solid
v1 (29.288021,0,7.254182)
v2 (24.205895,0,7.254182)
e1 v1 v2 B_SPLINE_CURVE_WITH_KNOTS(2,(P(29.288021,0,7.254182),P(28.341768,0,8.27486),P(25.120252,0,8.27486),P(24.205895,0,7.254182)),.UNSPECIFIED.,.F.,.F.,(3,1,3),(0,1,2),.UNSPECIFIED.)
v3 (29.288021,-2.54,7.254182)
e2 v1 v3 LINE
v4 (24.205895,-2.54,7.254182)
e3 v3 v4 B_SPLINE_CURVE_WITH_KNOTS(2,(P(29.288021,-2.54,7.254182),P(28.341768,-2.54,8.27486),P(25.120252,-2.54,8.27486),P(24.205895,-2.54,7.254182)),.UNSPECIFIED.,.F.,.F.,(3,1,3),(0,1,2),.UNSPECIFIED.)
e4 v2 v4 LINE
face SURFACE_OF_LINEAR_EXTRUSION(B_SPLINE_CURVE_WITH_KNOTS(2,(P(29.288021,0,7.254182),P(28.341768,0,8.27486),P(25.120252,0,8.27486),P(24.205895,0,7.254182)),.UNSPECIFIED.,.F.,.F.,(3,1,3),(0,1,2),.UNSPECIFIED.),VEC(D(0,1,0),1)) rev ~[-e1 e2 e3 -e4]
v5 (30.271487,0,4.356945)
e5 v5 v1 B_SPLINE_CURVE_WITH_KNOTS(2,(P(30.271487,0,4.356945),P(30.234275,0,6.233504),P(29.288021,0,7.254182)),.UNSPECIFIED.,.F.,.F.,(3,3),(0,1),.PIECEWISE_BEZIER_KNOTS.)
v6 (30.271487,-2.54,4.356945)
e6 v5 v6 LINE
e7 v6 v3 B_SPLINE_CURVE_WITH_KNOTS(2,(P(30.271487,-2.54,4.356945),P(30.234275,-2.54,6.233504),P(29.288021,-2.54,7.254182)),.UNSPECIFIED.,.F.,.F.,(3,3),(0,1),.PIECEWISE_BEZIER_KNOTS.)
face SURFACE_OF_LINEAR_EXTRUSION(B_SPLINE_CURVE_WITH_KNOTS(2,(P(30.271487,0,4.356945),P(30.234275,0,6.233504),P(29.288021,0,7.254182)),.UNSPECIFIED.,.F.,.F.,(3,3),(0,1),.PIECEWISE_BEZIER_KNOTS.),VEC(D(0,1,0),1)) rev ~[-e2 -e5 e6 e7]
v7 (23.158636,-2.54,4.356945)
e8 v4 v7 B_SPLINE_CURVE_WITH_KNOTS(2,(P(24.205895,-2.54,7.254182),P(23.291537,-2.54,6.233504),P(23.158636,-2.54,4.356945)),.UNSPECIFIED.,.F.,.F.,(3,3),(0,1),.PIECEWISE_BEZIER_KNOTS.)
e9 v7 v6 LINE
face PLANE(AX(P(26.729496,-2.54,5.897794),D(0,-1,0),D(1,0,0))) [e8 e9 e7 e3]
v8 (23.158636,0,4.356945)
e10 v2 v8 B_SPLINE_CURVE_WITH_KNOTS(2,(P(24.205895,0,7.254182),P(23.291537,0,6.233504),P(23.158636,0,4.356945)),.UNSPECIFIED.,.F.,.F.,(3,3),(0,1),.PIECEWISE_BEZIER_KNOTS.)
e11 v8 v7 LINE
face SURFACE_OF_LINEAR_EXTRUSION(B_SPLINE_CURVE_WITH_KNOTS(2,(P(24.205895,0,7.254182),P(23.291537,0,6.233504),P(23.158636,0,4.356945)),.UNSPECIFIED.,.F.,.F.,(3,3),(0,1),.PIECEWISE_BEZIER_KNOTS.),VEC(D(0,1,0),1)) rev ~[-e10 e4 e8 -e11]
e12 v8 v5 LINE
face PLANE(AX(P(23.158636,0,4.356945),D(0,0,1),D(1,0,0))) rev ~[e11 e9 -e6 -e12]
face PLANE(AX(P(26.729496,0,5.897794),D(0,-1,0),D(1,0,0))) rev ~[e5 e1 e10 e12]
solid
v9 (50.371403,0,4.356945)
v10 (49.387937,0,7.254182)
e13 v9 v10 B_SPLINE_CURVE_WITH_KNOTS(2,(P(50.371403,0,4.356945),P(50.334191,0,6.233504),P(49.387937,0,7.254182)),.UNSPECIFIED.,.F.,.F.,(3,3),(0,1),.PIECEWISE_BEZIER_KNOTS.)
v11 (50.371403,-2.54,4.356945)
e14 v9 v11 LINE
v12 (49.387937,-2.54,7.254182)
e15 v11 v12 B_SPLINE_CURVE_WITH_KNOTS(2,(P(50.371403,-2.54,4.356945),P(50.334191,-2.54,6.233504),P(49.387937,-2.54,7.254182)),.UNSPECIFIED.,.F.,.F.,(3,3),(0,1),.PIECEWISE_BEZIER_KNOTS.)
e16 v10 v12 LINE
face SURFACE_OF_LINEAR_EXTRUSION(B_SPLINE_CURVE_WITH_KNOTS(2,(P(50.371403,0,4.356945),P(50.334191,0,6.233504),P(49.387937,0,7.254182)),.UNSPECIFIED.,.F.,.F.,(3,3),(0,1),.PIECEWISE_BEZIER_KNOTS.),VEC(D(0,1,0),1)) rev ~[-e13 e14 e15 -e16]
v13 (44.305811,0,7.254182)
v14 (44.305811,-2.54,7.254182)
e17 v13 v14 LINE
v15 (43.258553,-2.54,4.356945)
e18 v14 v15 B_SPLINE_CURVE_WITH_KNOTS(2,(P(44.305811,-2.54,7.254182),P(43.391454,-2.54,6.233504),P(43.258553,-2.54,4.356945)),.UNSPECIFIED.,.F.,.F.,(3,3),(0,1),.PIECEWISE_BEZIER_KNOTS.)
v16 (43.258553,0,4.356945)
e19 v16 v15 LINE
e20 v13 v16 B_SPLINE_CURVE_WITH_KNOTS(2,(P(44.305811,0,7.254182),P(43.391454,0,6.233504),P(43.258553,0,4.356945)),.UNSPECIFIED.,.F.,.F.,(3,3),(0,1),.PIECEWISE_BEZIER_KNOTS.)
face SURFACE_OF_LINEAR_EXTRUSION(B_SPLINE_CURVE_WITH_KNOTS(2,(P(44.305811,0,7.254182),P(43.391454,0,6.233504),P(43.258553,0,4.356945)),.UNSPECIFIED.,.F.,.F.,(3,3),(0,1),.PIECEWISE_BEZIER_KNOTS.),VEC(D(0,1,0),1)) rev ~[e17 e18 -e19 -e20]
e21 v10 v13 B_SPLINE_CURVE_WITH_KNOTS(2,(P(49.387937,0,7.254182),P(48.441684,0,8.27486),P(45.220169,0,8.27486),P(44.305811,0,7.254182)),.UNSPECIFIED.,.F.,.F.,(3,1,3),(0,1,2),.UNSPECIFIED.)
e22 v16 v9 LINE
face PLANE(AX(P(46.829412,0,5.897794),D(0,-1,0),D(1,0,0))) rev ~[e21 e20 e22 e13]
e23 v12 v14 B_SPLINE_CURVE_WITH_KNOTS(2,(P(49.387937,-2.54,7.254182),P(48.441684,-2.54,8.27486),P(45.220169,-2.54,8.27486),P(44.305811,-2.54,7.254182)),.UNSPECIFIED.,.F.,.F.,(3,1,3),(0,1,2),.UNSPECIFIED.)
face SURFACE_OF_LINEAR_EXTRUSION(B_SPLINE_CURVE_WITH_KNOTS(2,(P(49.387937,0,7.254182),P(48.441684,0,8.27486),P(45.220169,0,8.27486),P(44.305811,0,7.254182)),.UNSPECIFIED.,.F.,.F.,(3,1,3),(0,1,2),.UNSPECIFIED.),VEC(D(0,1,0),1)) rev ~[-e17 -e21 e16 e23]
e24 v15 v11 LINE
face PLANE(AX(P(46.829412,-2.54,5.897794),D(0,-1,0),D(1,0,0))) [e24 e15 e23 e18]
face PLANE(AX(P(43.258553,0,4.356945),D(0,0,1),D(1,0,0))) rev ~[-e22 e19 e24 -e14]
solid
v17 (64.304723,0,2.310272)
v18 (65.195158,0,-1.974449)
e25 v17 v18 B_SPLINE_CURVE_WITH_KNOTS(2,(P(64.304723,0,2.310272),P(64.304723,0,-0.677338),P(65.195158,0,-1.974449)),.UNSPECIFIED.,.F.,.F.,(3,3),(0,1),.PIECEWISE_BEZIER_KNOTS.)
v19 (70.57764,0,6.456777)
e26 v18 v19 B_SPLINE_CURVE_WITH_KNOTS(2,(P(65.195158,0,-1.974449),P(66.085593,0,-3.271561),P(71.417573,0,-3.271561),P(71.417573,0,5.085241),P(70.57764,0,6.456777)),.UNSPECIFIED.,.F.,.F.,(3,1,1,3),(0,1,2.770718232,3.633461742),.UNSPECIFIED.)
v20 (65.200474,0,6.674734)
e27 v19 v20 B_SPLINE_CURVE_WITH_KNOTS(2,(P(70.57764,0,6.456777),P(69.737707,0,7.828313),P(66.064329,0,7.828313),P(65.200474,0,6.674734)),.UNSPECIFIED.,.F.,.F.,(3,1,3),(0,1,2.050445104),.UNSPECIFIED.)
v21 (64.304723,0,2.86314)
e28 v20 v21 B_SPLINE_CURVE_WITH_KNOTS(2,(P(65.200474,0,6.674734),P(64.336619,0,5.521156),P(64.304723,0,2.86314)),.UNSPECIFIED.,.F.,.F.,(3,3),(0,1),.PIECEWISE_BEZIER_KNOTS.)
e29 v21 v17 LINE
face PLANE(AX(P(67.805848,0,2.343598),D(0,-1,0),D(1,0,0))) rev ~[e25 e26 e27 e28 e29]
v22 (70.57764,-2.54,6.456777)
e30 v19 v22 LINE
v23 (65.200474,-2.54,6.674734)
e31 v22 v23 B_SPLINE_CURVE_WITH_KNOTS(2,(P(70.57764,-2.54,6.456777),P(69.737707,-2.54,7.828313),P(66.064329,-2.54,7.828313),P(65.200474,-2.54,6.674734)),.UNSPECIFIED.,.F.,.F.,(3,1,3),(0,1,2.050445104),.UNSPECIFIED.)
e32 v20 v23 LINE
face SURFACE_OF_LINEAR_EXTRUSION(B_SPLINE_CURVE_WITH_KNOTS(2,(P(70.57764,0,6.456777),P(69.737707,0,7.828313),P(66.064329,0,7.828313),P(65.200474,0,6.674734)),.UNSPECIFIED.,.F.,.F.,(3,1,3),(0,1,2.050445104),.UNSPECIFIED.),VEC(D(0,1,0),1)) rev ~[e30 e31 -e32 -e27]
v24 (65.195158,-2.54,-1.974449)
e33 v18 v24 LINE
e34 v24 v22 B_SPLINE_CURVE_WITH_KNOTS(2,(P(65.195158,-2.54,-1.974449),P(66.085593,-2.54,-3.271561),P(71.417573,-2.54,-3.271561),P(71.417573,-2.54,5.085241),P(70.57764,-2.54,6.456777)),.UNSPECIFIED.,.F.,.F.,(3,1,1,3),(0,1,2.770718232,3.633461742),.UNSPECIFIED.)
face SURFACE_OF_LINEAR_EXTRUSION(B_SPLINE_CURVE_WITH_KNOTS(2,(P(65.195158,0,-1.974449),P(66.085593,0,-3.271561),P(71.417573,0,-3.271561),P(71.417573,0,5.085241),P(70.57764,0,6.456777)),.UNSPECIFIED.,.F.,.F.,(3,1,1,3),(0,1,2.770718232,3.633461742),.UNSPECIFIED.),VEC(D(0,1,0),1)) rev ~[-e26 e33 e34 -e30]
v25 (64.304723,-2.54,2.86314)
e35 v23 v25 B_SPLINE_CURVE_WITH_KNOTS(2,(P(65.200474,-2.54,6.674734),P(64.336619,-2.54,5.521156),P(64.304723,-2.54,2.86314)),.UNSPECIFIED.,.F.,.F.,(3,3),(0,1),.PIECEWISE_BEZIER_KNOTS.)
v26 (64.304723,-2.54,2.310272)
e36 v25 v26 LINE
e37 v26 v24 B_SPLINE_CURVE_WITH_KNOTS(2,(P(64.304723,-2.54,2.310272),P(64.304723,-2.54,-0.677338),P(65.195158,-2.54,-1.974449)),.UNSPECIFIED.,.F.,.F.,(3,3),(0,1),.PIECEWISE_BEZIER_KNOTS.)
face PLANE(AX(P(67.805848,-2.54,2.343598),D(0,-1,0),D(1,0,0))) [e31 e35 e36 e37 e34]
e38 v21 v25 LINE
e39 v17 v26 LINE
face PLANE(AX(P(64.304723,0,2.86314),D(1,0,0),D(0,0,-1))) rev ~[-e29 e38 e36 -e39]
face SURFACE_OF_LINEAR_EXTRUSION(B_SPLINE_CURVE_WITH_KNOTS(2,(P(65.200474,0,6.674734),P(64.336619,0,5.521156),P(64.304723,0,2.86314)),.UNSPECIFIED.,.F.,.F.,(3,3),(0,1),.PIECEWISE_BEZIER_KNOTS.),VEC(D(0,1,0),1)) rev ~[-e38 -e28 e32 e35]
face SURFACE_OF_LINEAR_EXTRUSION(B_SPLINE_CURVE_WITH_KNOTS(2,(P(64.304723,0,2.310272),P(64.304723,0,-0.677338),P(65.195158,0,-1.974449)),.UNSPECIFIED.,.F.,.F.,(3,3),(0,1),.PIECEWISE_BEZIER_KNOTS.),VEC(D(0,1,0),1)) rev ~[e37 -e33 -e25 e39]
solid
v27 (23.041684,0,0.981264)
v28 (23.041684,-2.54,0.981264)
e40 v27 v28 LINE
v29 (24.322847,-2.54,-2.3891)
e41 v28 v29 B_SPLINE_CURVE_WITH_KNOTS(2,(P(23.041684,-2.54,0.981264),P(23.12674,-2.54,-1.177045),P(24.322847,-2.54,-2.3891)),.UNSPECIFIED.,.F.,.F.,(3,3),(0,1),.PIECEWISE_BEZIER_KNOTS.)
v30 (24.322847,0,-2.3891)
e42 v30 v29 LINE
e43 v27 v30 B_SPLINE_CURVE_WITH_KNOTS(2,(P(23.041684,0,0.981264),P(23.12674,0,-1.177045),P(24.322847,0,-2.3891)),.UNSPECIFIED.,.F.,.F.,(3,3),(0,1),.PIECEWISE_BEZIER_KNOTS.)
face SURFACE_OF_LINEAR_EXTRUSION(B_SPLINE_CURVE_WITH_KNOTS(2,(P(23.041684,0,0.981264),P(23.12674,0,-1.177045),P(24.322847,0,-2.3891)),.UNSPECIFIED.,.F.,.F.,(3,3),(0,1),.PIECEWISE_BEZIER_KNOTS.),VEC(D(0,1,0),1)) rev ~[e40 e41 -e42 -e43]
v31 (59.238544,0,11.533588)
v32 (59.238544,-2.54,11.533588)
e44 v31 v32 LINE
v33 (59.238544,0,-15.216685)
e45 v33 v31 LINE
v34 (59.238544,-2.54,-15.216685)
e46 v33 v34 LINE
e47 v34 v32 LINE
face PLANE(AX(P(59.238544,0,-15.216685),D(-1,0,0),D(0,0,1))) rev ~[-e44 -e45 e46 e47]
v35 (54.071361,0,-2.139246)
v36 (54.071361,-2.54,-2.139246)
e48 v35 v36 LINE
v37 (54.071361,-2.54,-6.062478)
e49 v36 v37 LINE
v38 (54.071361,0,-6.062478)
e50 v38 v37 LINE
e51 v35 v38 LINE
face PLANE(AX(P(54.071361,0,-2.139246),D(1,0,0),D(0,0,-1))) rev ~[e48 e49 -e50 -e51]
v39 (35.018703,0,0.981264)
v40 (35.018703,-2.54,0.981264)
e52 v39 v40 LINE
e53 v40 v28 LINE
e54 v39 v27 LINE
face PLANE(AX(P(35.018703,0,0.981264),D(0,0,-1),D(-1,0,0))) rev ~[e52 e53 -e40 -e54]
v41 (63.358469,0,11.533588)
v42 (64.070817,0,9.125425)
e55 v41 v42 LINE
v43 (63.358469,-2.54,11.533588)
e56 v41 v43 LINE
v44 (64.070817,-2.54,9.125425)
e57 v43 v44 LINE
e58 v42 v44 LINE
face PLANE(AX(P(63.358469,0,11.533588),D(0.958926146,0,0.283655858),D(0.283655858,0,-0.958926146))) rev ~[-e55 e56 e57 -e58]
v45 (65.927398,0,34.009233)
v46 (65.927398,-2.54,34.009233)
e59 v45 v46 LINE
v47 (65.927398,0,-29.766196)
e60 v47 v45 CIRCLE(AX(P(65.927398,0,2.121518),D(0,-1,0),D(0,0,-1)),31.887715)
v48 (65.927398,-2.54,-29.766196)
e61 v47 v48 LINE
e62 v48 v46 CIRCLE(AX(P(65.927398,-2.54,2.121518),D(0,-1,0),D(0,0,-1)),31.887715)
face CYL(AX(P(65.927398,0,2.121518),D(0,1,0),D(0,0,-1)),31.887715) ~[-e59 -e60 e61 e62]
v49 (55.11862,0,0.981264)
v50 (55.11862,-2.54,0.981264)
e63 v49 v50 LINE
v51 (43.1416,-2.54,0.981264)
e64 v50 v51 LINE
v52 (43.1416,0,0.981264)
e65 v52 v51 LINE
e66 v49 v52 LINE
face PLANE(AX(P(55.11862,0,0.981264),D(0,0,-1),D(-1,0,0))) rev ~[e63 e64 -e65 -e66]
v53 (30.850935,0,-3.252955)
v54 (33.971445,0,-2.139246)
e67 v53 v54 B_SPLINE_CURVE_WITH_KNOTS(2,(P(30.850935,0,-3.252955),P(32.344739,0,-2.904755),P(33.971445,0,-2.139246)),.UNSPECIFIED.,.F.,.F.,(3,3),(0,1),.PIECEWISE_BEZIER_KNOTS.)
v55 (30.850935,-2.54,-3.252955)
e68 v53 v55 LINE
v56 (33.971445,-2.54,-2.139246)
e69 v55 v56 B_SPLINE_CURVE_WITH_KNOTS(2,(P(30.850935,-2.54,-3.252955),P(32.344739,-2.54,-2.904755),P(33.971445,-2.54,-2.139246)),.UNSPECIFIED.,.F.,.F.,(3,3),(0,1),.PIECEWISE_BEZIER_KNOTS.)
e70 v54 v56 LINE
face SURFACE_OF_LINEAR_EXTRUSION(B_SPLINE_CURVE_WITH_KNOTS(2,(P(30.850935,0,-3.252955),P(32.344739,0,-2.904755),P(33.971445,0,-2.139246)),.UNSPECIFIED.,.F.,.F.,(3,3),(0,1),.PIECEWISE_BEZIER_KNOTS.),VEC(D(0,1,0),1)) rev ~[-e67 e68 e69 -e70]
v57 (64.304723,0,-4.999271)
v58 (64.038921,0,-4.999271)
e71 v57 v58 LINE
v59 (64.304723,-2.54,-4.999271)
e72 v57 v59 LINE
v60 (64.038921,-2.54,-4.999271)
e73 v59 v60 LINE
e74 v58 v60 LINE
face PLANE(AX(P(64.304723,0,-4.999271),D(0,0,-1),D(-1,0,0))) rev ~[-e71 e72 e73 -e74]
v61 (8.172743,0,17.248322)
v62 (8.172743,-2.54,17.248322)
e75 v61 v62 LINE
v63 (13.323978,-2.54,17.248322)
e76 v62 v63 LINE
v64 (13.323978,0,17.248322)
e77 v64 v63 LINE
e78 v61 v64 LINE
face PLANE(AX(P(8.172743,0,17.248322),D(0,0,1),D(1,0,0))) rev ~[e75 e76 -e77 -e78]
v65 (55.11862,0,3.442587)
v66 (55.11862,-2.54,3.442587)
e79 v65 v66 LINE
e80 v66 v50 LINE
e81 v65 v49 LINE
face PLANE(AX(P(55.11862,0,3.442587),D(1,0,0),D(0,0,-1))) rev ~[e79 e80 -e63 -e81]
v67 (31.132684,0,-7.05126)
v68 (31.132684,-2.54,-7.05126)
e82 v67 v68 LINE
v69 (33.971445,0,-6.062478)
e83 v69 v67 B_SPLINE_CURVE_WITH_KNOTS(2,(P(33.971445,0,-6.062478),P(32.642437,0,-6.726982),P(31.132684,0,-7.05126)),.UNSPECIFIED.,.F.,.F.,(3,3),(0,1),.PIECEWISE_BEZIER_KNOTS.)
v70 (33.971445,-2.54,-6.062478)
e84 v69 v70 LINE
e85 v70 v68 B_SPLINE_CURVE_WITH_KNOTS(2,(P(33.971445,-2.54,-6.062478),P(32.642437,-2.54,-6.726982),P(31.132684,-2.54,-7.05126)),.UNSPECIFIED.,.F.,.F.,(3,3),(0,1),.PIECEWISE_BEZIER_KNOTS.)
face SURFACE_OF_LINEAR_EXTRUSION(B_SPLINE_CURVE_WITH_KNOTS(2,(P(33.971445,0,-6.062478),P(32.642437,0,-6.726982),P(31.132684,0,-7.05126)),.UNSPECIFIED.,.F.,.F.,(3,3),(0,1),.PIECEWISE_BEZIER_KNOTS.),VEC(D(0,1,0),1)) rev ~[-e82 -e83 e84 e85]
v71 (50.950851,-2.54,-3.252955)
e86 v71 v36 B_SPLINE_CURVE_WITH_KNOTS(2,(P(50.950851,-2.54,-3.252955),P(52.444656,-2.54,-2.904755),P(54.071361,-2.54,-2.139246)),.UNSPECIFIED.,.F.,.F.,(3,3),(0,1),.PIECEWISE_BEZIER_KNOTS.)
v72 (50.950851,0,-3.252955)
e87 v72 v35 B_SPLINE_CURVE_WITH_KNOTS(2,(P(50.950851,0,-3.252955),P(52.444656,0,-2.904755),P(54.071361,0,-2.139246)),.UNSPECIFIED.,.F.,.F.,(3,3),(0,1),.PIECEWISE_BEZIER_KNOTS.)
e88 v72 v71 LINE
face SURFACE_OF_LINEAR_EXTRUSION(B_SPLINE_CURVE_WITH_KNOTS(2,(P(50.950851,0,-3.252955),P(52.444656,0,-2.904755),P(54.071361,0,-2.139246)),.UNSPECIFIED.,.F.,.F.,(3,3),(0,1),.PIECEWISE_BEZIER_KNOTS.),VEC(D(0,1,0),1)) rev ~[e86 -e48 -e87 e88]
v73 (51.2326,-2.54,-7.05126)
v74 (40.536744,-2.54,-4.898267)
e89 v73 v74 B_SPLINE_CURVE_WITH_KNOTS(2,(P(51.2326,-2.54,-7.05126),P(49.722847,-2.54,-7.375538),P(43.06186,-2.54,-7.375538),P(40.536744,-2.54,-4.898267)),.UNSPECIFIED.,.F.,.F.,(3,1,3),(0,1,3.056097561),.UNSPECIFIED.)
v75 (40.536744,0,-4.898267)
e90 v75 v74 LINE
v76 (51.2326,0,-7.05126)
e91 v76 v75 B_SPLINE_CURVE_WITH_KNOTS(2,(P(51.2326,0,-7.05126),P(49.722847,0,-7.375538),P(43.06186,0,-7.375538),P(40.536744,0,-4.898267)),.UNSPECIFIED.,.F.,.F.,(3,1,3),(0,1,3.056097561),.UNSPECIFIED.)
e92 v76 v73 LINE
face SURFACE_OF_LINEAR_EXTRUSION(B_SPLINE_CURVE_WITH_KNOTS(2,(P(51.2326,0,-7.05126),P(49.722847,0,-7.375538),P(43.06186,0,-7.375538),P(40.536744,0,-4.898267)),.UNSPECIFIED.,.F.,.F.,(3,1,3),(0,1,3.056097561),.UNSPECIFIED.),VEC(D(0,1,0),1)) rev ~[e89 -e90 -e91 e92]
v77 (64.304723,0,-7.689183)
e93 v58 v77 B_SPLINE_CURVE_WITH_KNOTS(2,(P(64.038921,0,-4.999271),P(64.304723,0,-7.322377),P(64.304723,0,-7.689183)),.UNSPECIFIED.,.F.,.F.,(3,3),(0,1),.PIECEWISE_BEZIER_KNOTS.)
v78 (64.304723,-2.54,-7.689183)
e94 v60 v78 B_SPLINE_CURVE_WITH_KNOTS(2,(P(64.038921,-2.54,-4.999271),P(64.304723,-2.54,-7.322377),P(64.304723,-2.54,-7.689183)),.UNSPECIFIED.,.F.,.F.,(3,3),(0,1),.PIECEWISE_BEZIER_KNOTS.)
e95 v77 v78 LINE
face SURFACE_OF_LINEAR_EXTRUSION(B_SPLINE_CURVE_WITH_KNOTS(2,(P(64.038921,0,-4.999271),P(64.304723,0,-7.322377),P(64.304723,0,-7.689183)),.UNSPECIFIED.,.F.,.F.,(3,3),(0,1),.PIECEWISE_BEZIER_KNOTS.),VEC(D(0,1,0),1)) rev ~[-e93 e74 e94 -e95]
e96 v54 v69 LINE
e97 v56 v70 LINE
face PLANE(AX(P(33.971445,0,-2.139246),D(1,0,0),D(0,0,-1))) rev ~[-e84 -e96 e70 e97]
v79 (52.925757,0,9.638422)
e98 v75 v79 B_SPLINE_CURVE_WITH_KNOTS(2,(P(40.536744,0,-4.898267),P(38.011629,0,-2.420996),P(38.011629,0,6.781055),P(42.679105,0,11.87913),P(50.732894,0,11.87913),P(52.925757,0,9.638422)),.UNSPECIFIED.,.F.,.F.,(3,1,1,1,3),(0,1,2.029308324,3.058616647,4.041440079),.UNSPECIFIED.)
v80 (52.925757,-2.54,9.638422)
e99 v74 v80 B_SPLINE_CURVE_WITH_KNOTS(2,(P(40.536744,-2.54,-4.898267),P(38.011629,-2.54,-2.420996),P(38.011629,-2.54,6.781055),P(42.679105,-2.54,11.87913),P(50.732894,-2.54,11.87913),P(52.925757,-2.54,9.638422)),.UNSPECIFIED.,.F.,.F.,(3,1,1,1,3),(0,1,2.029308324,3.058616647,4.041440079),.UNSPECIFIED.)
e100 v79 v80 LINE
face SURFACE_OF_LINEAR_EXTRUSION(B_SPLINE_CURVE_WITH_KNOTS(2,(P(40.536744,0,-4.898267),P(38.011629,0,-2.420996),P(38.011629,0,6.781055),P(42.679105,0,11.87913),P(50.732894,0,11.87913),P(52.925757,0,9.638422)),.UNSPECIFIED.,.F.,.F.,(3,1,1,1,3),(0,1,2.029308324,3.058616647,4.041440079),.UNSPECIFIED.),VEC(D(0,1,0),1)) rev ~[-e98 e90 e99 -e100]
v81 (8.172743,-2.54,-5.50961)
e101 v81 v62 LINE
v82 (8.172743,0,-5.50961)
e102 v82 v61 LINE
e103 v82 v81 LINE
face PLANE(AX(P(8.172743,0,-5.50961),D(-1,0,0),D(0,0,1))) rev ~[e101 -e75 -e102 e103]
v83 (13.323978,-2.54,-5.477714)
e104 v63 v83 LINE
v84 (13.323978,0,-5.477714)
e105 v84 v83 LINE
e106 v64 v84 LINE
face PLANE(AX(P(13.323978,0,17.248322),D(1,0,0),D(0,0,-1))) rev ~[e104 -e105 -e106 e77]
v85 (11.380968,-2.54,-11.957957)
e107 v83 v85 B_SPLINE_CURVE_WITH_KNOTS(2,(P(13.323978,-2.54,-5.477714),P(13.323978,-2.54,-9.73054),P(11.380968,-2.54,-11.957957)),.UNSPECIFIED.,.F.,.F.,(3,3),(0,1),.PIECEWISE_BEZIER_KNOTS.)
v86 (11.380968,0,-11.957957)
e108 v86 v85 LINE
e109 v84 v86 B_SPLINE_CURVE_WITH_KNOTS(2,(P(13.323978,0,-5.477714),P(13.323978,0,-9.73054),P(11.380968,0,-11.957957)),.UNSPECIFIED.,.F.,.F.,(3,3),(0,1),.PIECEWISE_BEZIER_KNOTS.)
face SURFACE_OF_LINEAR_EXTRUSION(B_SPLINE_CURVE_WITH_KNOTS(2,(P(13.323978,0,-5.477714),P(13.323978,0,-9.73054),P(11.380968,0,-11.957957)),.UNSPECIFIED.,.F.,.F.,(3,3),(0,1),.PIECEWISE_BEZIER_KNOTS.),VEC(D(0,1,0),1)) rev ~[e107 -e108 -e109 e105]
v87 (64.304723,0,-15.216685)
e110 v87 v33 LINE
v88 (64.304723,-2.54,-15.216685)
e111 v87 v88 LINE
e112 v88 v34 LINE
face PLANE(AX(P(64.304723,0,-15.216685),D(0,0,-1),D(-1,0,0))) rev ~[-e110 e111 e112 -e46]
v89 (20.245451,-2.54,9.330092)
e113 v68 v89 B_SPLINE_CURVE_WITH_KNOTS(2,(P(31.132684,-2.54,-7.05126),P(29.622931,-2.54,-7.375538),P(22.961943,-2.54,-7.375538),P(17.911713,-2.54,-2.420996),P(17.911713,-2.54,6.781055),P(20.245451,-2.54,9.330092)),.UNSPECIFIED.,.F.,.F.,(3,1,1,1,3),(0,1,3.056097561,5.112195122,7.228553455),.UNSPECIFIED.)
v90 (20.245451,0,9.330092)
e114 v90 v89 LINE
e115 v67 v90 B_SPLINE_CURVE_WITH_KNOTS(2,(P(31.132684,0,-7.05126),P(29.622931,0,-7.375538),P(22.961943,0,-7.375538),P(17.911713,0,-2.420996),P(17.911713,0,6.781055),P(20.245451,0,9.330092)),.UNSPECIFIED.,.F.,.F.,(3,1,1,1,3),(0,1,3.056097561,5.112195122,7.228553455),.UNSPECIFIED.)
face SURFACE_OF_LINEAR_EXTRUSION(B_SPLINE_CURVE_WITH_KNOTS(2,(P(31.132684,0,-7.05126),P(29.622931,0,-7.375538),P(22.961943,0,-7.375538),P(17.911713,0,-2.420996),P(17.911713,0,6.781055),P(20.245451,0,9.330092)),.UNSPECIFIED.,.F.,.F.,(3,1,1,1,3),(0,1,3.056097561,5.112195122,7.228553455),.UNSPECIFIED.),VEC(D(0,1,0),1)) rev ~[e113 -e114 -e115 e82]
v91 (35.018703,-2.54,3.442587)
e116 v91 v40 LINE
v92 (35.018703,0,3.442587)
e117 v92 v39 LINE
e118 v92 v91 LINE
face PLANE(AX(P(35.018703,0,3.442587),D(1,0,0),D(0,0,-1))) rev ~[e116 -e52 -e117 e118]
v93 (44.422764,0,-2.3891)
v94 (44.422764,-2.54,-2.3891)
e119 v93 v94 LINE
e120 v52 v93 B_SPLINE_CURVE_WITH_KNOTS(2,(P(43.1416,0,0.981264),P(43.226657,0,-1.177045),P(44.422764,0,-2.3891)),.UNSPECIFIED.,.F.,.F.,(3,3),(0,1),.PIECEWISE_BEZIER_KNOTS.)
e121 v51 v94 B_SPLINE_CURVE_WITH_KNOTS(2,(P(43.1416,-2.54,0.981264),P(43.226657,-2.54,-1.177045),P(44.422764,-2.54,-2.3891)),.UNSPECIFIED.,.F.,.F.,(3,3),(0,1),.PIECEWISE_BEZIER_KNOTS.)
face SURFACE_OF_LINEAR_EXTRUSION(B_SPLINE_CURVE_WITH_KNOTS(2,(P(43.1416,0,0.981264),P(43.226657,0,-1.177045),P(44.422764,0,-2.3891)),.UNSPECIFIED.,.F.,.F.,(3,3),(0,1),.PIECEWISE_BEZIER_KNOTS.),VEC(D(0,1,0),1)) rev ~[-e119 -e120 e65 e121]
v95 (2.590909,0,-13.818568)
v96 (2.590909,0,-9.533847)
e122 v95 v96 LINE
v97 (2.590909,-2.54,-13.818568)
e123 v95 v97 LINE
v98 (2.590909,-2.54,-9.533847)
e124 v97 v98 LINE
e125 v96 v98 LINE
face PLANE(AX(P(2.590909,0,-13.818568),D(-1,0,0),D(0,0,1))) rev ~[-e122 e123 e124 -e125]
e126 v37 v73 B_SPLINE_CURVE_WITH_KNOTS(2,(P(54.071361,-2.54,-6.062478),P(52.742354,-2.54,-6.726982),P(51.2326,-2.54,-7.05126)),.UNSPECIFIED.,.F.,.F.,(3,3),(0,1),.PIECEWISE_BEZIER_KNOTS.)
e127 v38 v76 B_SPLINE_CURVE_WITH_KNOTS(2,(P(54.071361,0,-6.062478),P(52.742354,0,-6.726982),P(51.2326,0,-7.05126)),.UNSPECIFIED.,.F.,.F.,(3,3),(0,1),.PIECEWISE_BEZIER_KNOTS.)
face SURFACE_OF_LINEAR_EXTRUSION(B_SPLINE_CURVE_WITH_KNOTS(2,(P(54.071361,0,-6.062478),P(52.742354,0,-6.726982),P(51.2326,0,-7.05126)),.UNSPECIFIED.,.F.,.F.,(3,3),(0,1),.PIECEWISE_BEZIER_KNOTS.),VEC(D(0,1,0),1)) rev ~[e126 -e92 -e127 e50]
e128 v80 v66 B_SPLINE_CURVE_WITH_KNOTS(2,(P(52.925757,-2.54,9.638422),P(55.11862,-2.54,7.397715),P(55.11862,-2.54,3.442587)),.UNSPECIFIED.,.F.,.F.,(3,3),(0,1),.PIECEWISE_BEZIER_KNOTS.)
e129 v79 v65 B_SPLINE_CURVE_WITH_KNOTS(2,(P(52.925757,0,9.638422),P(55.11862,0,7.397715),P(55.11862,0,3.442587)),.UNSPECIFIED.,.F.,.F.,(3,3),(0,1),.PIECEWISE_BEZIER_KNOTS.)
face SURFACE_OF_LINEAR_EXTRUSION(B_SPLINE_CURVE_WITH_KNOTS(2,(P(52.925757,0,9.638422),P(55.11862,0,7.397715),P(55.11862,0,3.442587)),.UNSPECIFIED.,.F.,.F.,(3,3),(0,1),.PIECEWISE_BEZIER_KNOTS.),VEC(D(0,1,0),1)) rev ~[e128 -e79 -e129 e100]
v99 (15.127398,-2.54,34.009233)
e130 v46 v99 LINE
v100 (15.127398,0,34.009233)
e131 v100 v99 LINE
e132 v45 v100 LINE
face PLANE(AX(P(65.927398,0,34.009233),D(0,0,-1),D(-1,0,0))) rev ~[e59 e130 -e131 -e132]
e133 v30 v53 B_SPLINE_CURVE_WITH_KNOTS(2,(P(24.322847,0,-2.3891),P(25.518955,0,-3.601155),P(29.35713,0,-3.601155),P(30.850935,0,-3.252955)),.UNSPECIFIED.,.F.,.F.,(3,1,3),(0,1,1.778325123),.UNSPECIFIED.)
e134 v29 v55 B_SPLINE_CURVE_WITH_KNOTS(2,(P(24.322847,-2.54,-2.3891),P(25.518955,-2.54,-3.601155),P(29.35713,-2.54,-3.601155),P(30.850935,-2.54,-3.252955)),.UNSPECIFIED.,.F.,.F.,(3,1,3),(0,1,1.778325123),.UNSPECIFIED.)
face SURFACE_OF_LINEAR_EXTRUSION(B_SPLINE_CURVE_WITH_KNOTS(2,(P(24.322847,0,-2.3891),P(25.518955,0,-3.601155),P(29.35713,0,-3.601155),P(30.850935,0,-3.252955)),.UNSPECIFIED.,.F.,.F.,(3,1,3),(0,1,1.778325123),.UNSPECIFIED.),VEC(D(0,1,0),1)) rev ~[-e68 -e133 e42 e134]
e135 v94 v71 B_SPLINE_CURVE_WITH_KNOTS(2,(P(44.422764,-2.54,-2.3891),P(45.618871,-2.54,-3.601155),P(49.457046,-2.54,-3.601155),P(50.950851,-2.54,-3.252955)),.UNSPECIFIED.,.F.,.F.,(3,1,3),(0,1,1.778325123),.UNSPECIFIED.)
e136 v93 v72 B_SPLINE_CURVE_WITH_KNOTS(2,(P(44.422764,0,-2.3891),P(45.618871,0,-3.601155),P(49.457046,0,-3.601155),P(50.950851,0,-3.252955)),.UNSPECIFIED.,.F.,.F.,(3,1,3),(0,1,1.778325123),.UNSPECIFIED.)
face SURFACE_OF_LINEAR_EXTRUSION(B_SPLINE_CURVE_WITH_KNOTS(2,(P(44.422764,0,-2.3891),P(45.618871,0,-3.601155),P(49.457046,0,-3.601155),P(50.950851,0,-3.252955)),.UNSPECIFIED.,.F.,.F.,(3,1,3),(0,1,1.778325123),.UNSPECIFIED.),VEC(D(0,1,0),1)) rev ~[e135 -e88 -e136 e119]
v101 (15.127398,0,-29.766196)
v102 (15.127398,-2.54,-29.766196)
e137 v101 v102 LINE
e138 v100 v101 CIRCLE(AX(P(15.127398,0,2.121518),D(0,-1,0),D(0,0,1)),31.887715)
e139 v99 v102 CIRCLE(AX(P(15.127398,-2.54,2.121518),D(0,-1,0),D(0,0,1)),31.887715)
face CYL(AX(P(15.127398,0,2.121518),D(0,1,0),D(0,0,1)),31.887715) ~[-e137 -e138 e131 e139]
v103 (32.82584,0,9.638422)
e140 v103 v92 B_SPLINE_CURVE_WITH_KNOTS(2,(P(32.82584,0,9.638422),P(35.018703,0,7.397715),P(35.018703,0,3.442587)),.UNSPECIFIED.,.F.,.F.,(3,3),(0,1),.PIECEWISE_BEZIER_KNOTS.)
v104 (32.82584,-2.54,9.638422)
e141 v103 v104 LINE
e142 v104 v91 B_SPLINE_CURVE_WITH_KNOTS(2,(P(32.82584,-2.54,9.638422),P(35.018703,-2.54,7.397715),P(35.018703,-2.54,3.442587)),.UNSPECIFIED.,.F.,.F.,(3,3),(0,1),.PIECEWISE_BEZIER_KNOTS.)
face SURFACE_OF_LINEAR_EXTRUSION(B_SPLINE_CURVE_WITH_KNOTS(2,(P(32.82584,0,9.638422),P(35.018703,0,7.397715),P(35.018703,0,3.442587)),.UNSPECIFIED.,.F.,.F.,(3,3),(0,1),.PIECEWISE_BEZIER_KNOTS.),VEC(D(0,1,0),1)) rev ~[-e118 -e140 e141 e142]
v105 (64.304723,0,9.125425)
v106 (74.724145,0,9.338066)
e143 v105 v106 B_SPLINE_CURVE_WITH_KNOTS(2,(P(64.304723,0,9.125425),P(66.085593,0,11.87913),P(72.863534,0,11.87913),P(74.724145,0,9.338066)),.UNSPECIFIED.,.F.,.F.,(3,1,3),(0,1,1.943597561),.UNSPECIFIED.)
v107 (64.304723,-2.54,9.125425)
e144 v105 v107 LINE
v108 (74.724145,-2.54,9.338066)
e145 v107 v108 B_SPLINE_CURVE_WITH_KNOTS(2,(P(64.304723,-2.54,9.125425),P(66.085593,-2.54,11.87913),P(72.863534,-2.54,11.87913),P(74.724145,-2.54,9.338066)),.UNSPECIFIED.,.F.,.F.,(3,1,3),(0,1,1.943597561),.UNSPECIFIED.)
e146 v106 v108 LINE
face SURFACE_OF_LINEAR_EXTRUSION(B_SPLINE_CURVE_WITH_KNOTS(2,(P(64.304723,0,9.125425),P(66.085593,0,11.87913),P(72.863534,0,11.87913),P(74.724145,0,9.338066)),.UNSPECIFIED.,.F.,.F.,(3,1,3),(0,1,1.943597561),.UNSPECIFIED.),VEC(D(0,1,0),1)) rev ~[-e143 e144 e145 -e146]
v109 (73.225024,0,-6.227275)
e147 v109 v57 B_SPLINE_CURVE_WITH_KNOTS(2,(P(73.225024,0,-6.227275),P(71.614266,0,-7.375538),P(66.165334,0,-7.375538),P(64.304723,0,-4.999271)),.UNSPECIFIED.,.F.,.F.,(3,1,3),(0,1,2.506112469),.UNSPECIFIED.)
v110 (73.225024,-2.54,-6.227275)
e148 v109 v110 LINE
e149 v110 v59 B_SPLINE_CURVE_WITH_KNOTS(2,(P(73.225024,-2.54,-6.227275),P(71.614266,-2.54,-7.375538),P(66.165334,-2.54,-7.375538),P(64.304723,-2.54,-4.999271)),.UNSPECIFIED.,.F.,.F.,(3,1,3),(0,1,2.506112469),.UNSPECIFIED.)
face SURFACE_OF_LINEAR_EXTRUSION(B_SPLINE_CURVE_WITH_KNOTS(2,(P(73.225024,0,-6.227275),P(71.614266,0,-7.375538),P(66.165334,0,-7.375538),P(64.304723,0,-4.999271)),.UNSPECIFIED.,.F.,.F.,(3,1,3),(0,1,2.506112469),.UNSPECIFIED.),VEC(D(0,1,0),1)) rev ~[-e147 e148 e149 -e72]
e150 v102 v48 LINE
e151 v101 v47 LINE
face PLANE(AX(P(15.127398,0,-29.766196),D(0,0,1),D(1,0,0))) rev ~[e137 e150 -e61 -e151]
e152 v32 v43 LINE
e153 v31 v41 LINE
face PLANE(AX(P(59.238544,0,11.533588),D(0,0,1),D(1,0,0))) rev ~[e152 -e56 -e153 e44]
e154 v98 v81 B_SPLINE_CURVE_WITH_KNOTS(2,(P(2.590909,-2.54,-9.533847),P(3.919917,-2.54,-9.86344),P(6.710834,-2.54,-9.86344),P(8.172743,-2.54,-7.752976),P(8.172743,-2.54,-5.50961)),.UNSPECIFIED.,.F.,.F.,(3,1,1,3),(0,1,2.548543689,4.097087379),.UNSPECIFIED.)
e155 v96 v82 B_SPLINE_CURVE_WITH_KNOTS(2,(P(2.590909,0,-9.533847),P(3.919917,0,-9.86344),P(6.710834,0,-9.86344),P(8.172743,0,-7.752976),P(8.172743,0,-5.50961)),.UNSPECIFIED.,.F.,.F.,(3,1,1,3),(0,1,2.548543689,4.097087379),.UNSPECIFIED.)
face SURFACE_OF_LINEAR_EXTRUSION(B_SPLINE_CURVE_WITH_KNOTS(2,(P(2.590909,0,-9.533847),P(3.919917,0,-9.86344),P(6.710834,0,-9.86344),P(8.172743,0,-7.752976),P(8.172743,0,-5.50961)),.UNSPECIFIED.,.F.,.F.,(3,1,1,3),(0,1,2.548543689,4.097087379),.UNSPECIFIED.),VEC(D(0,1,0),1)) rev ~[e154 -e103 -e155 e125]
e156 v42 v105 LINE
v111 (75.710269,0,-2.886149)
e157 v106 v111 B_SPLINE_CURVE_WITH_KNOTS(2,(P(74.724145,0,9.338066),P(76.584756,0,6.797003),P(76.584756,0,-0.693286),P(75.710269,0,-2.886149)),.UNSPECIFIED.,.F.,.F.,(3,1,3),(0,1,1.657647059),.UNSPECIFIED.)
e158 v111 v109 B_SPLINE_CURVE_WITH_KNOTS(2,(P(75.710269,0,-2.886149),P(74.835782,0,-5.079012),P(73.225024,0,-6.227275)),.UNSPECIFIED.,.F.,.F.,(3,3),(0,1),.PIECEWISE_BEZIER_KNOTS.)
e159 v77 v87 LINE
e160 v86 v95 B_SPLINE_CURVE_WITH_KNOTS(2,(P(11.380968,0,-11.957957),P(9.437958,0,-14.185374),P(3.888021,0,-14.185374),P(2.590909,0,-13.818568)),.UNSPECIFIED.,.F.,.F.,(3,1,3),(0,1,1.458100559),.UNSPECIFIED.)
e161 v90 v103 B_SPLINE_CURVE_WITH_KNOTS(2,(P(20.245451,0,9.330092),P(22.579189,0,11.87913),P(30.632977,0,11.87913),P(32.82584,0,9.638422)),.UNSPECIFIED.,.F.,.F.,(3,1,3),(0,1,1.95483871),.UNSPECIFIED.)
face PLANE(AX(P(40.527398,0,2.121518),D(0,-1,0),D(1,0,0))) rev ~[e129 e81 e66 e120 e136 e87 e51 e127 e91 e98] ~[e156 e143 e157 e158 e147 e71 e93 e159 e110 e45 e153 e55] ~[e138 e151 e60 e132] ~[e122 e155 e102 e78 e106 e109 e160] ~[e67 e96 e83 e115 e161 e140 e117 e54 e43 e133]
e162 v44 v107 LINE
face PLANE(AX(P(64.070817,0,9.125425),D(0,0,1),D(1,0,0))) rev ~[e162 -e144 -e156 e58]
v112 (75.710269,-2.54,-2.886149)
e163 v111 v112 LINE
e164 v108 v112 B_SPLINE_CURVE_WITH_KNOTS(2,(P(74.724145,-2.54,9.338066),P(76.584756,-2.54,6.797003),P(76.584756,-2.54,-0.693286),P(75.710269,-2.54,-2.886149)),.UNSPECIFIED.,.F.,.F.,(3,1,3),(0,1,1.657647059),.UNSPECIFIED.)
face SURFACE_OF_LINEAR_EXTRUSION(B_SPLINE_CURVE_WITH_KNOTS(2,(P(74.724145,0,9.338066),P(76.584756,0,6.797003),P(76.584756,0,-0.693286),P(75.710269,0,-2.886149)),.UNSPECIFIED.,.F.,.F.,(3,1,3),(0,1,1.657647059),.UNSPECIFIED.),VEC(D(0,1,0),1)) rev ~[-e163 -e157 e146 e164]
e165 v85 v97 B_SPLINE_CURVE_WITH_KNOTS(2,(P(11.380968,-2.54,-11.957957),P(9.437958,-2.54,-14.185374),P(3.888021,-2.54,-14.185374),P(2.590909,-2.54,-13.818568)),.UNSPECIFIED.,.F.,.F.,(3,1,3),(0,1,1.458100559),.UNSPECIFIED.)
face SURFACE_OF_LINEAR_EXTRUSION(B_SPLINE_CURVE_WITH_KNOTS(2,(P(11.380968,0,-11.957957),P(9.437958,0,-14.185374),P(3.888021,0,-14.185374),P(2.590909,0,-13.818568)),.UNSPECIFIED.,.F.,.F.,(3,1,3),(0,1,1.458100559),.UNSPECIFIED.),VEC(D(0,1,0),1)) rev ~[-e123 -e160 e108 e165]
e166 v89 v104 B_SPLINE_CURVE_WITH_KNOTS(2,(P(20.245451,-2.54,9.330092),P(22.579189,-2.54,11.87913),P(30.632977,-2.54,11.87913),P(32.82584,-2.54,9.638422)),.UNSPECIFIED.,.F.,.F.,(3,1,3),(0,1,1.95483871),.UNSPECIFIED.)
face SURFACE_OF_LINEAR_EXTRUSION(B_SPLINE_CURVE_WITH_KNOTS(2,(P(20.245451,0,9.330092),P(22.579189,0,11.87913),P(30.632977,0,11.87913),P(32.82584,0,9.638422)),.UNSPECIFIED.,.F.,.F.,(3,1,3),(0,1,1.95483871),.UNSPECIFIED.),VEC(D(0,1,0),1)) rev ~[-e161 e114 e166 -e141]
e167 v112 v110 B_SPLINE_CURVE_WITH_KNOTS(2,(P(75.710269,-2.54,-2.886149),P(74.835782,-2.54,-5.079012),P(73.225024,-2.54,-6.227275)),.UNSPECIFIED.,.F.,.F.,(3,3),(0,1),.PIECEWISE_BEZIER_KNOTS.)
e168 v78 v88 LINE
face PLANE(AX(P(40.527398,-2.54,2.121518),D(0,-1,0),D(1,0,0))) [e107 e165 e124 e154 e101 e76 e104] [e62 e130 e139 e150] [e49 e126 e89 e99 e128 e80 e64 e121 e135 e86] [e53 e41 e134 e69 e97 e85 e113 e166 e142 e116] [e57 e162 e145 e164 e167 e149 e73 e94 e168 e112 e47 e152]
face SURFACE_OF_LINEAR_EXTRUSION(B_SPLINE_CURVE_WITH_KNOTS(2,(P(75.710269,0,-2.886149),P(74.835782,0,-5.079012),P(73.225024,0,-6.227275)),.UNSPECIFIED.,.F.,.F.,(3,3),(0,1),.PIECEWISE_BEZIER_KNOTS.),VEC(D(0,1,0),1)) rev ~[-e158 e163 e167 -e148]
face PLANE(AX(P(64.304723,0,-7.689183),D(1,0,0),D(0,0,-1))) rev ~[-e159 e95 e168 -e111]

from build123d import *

# Parameters (mm, degrees)
F1_DEPTH = 2.54
F2_DEPTH = 2.54


with BuildPart() as f1:
    # F0 (on Front) → F1 (new body)
    with BuildSketch(Plane.XZ):
        with BuildLine():
            ThreePointArc((15.1273975771, 34.0092331171), (-16.7603171739, 2.121518366), (15.1273975771, -29.766196385))
            Line((15.1273975771, -29.766196385), (65.9273975771, -29.766196385))
            ThreePointArc((65.9273975771, -29.766196385), (97.8151123282, 2.121518366), (65.9273975771, 34.0092331171))
            Line((65.9273975771, 34.0092331171), (15.1273975771, 34.0092331171))
        make_face()
        with BuildLine():
            ThreePointArc((15.1273975771, -22.7641476952), (-10.2726024229, 2.6358523048), (15.1273975771, 28.0358523048))
            Line((15.1273975771, 28.0358523048), (65.9273975771, 28.0358523048))
            ThreePointArc((65.9273975771, 28.0358523048), (91.3273975771, 2.6358523048), (65.9273975771, -22.7641476952))
            Line((65.9273975771, -22.7641476952), (15.1273975771, -22.7641476952))
        make_face(mode=Mode.SUBTRACT)
        with BuildLine():
            Line((65.9273975771, 28.0358523048), (15.1273975771, 28.0358523048))
            ThreePointArc((15.1273975771, 28.0358523048), (-10.2726024229, 2.6358523048), (15.1273975771, -22.7641476952))
            Line((15.1273975771, -22.7641476952), (65.9273975771, -22.7641476952))
            ThreePointArc((65.9273975771, -22.7641476952), (91.3273975771, 2.6358523048), (65.9273975771, 28.0358523048))
        make_face()
        with BuildLine():
            add(Edge.make_bspline(
                [(11.3809680112, -11.9579570174), (9.4379583838, -14.1853743468), (5.6316796061, -14.1853743468)],
                knots=[0, 0, 0, 1, 1, 1], degree=2))
            add(Edge.make_bspline(
                [(5.6316796061, -14.1853743468), (3.8880211716, -14.1853743468), (2.5909094093, -13.8185681517)],
                knots=[0, 0, 0, 1, 1, 1], degree=2))
            Line((2.5909094093, -13.8185681517), (2.5909094093, -9.5338465109))
            add(Edge.make_bspline(
                [(2.5909094093, -9.5338465109), (3.9199173624, -9.8634404833), (5.0150199158, -9.8634404833)],
                knots=[0, 0, 0, 1, 1, 1], degree=2))
            add(Edge.make_bspline(
                [(5.0150199158, -9.8634404833), (6.710834064, -9.8634404833), (7.4417884382, -8.8082081685)],
                knots=[0, 0, 0, 1, 1, 1], degree=2))
            add(Edge.make_bspline(
                [(7.4417884382, -8.8082081685), (8.1727428124, -7.7529758537), (8.1727428124, -5.5096104288)],
                knots=[0, 0, 0, 1, 1, 1], degree=2))
            Line((8.1727428124, -5.5096104288), (8.1727428124, 17.2483217604))
            Line((8.1727428124, 17.2483217604), (13.3239776387, 17.2483217604))
            Line((13.3239776387, 17.2483217604), (13.3239776387, -5.477714238))
            add(Edge.make_bspline(
                [(13.3239776387, -5.477714238), (13.3239776387, -9.7305396879), (11.3809680112, -11.9579570174)],
                knots=[0, 0, 0, 1, 1, 1], degree=2))
        make_face(mode=Mode.SUBTRACT)
        with BuildLine():
            add(Edge.make_bspline(
                [(73.2250241017, -6.2272747235), (71.6142664625, -7.375537595), (69.4400094512, -7.375537595)],
                knots=[0, 0, 0, 1, 1, 1], degree=2))
            add(Edge.make_bspline(
                [(69.4400094512, -7.375537595), (66.1653338547, -7.375537595), (64.3047227203, -4.9992713748)],
                knots=[0, 0, 0, 1, 1, 1], degree=2))
            Line((64.3047227203, -4.9992713748), (64.0389211297, -4.9992713748))
            add(Edge.make_bspline(
                [(64.0389211297, -4.9992713748), (64.3047227203, -7.3223772769), (64.3047227203, -7.689183472)],
                knots=[0, 0, 0, 1, 1, 1], degree=2))
            Line((64.3047227203, -7.689183472), (64.3047227203, -15.2166845184))
            Line((64.3047227203, -15.2166845184), (59.238544403, -15.2166845184))
            Line((59.238544403, -15.2166845184), (59.238544403, 11.5335875619))
            Line((59.238544403, 11.5335875619), (63.3584690577, 11.5335875619))
            Line((63.3584690577, 11.5335875619), (64.0708173206, 9.1254251509))
            Line((64.0708173206, 9.1254251509), (64.3047227203, 9.1254251509))
            add(Edge.make_bspline(
                [(64.3047227203, 9.1254251509), (66.0855933775, 11.8791296298), (69.5729102465, 11.8791296298)],
                knots=[0, 0, 0, 1, 1, 1], degree=2))
            add(Edge.make_bspline(
                [(69.5729102465, 11.8791296298), (72.8635339384, 11.8791296298), (74.7241450728, 9.3380664234)],
                knots=[0, 0, 0, 1, 1, 1], degree=2))
            add(Edge.make_bspline(
                [(74.7241450728, 9.3380664234), (76.5847562071, 6.797003217), (76.5847562071, 2.2783761764)],
                knots=[0, 0, 0, 1, 1, 1], degree=2))
            add(Edge.make_bspline(
                [(76.5847562071, 2.2783761764), (76.5847562071, -0.6932856067), (75.710268974, -2.8861487294)],
                knots=[0, 0, 0, 1, 1, 1], degree=2))
            add(Edge.make_bspline(
                [(75.710268974, -2.8861487294), (74.8357817408, -5.079011852), (73.2250241017, -6.2272747235)],
                knots=[0, 0, 0, 1, 1, 1], degree=2))
        make_face(mode=Mode.SUBTRACT)
        with BuildLine():
            add(Edge.make_bspline(
                [(31.1326842105, -7.0512596545), (29.6229311758, -7.375537595), (27.4433581326, -7.375537595)],
                knots=[0, 0, 0, 1, 1, 1], degree=2))
            add(Edge.make_bspline(
                [(27.4433581326, -7.375537595), (22.9619433147, -7.375537595), (20.4368282038, -4.8982667704)],
                knots=[0, 0, 0, 1, 1, 1], degree=2))
            add(Edge.make_bspline(
                [(20.4368282038, -4.8982667704), (17.9117130929, -2.4209959458), (17.9117130929, 2.1135791902)],
                knots=[0, 0, 0, 1, 1, 1], degree=2))
            add(Edge.make_bspline(
                [(17.9117130929, 2.1135791902), (17.9117130929, 6.7810551216), (20.2454510585, 9.3300923757)],
                knots=[0, 0, 0, 1, 1, 1], degree=2))
            add(Edge.make_bspline(
                [(20.2454510585, 9.3300923757), (22.5791890242, 11.8791296298), (26.6991136789, 11.8791296298)],
                knots=[0, 0, 0, 1, 1, 1], degree=2))
            add(Edge.make_bspline(
                [(26.6991136789, 11.8791296298), (30.6329772201, 11.8791296298), (32.8258403428, 9.6384222208)],
                knots=[0, 0, 0, 1, 1, 1], degree=2))
            add(Edge.make_bspline(
                [(32.8258403428, 9.6384222208), (35.0187034654, 7.3977148118), (35.0187034654, 3.4425871434)],
                knots=[0, 0, 0, 1, 1, 1], degree=2))
            Line((35.0187034654, 3.4425871434), (35.0187034654, 0.9812644142))
            Line((35.0187034654, 0.9812644142), (23.0416837919, 0.9812644142))
            add(Edge.make_bspline(
                [(23.0416837919, 0.9812644142), (23.1267403009, -1.1770445017), (24.3228474587, -2.3890997549)],
                knots=[0, 0, 0, 1, 1, 1], degree=2))
            add(Edge.make_bspline(
                [(24.3228474587, -2.3890997549), (25.5189546165, -3.6011550082), (27.6772635324, -3.6011550082)],
                knots=[0, 0, 0, 1, 1, 1], degree=2))
            add(Edge.make_bspline(
                [(27.6772635324, -3.6011550082), (29.3571295851, -3.6011550082), (30.8509345244, -3.2529549244)],
                knots=[0, 0, 0, 1, 1, 1], degree=2))
            add(Edge.make_bspline(
                [(30.8509345244, -3.2529549244), (32.3447394637, -2.9047548407), (33.9714451984, -2.1392462597)],
                knots=[0, 0, 0, 1, 1, 1], degree=2))
            Line((33.9714451984, -2.1392462597), (33.9714451984, -6.0624777373))
            add(Edge.make_bspline(
                [(33.9714451984, -6.0624777373), (32.6424372452, -6.7269817139), (31.1326842105, -7.0512596545)],
                knots=[0, 0, 0, 1, 1, 1], degree=2))
        make_face(mode=Mode.SUBTRACT)
        with BuildLine():
            add(Edge.make_bspline(
                [(51.2326004935, -7.0512596545), (49.7228474587, -7.375537595), (47.5432744156, -7.375537595)],
                knots=[0, 0, 0, 1, 1, 1], degree=2))
            add(Edge.make_bspline(
                [(47.5432744156, -7.375537595), (43.0618595977, -7.375537595), (40.5367444868, -4.8982667704)],
                knots=[0, 0, 0, 1, 1, 1], degree=2))
            add(Edge.make_bspline(
                [(40.5367444868, -4.8982667704), (38.0116293758, -2.4209959458), (38.0116293758, 2.1135791902)],
                knots=[0, 0, 0, 1, 1, 1], degree=2))
            add(Edge.make_bspline(
                [(38.0116293758, 2.1135791902), (38.0116293758, 6.7810551216), (40.3453673415, 9.3300923757)],
                knots=[0, 0, 0, 1, 1, 1], degree=2))
            add(Edge.make_bspline(
                [(40.3453673415, 9.3300923757), (42.6791053072, 11.8791296298), (46.7990299619, 11.8791296298)],
                knots=[0, 0, 0, 1, 1, 1], degree=2))
            add(Edge.make_bspline(
                [(46.7990299619, 11.8791296298), (50.7328935031, 11.8791296298), (52.9257566257, 9.6384222208)],
                knots=[0, 0, 0, 1, 1, 1], degree=2))
            add(Edge.make_bspline(
                [(52.9257566257, 9.6384222208), (55.1186197484, 7.3977148118), (55.1186197484, 3.4425871434)],
                knots=[0, 0, 0, 1, 1, 1], degree=2))
            Line((55.1186197484, 3.4425871434), (55.1186197484, 0.9812644142))
            Line((55.1186197484, 0.9812644142), (43.1416000749, 0.9812644142))
            add(Edge.make_bspline(
                [(43.1416000749, 0.9812644142), (43.2266565839, -1.1770445017), (44.4227637417, -2.3890997549)],
                knots=[0, 0, 0, 1, 1, 1], degree=2))
            add(Edge.make_bspline(
                [(44.4227637417, -2.3890997549), (45.6188708995, -3.6011550082), (47.7771798154, -3.6011550082)],
                knots=[0, 0, 0, 1, 1, 1], degree=2))
            add(Edge.make_bspline(
                [(47.7771798154, -3.6011550082), (49.4570458681, -3.6011550082), (50.9508508074, -3.2529549244)],
                knots=[0, 0, 0, 1, 1, 1], degree=2))
            add(Edge.make_bspline(
                [(50.9508508074, -3.2529549244), (52.4446557467, -2.9047548407), (54.0713614813, -2.1392462597)],
                knots=[0, 0, 0, 1, 1, 1], degree=2))
            Line((54.0713614813, -2.1392462597), (54.0713614813, -6.0624777373))
            add(Edge.make_bspline(
                [(54.0713614813, -6.0624777373), (52.7423535282, -6.7269817139), (51.2326004935, -7.0512596545)],
                knots=[0, 0, 0, 1, 1, 1], degree=2))
        make_face(mode=Mode.SUBTRACT)
    extrude(amount=F1_DEPTH)


with BuildPart() as f2:
    # F0 (on Front) → F2 (new body)
    with BuildSketch(Plane.XZ):
        with BuildLine():
            add(Edge.make_bspline(
                [(70.5776402591, 6.456777181), (69.7377072327, 7.8283133887), (67.9462045119, 7.8283133887)],
                knots=[0, 0, 0, 1, 1, 1], degree=2))
            add(Edge.make_bspline(
                [(67.9462045119, 7.8283133887), (66.0643292503, 7.8283133887), (65.2004740807, 6.6747344853)],
                knots=[0, 0, 0, 1, 1, 1], degree=2))
            add(Edge.make_bspline(
                [(65.2004740807, 6.6747344853), (64.3366189112, 5.521155582), (64.3047227203, 2.8631396758)],
                knots=[0, 0, 0, 1, 1, 1], degree=2))
            Line((64.3047227203, 2.8631396758), (64.3047227203, 2.3102723673))
            add(Edge.make_bspline(
                [(64.3047227203, 2.3102723673), (64.3047227203, -0.6773375113), (65.1951580489, -1.9744492735)],
                knots=[0, 0, 0, 1, 1, 1], degree=2))
            add(Edge.make_bspline(
                [(65.1951580489, -1.9744492735), (66.0855933775, -3.2715610358), (68.0099968936, -3.2715610358)],
                knots=[0, 0, 0, 1, 1, 1], degree=2))
            add(Edge.make_bspline(
                [(68.0099968936, -3.2715610358), (71.4175732854, -3.2715610358), (71.4175732854, 2.34748459)],
                knots=[0, 0, 0, 1, 1, 1], degree=2))
            add(Edge.make_bspline(
                [(71.4175732854, 2.34748459), (71.4175732854, 5.0852409734), (70.5776402591, 6.456777181)],
                knots=[0, 0, 0, 1, 1, 1], degree=2))
        make_face()
    extrude(amount=F2_DEPTH)


with BuildPart() as f2b:
    # F0 (on Front) → F2, piece 2 (new body)
    with BuildSketch(Plane.XZ):
        with BuildLine():
            add(Edge.make_bspline(
                [(29.2880211716, 7.2541819529), (28.3417675089, 8.2748600609), (26.7310098698, 8.2748600609)],
                knots=[0, 0, 0, 1, 1, 1], degree=2))
            add(Edge.make_bspline(
                [(26.7310098698, 8.2748600609), (25.1202522306, 8.2748600609), (24.2058947588, 7.2541819529)],
                knots=[0, 0, 0, 1, 1, 1], degree=2))
            add(Edge.make_bspline(
                [(24.2058947588, 7.2541819529), (23.2915372871, 6.2335038449), (23.1586364918, 4.3569446151)],
                knots=[0, 0, 0, 1, 1, 1], degree=2))
            Line((23.1586364918, 4.3569446151), (30.2714870569, 4.3569446151))
            add(Edge.make_bspline(
                [(30.2714870569, 4.3569446151), (30.2342748342, 6.2335038449), (29.2880211716, 7.2541819529)],
                knots=[0, 0, 0, 1, 1, 1], degree=2))
        make_face()
    extrude(amount=F2_DEPTH)


with BuildPart() as f2c:
    # F0 (on Front) → F2, piece 3 (new body)
    with BuildSketch(Plane.XZ):
        with BuildLine():
            add(Edge.make_bspline(
                [(49.3879374545, 7.2541819529), (48.4416837919, 8.2748600609), (46.8309261527, 8.2748600609)],
                knots=[0, 0, 0, 1, 1, 1], degree=2))
            add(Edge.make_bspline(
                [(46.8309261527, 8.2748600609), (45.2201685136, 8.2748600609), (44.3058110418, 7.2541819529)],
                knots=[0, 0, 0, 1, 1, 1], degree=2))
            add(Edge.make_bspline(
                [(44.3058110418, 7.2541819529), (43.3914535701, 6.2335038449), (43.2585527747, 4.3569446151)],
                knots=[0, 0, 0, 1, 1, 1], degree=2))
            Line((43.2585527747, 4.3569446151), (50.3714033398, 4.3569446151))
            add(Edge.make_bspline(
                [(50.3714033398, 4.3569446151), (50.3341911172, 6.2335038449), (49.3879374545, 7.2541819529)],
                knots=[0, 0, 0, 1, 1, 1], degree=2))
        make_face()
    extrude(amount=F2_DEPTH)


solid = Compound([f1.part, f2.part, f2b.part, f2c.part])
